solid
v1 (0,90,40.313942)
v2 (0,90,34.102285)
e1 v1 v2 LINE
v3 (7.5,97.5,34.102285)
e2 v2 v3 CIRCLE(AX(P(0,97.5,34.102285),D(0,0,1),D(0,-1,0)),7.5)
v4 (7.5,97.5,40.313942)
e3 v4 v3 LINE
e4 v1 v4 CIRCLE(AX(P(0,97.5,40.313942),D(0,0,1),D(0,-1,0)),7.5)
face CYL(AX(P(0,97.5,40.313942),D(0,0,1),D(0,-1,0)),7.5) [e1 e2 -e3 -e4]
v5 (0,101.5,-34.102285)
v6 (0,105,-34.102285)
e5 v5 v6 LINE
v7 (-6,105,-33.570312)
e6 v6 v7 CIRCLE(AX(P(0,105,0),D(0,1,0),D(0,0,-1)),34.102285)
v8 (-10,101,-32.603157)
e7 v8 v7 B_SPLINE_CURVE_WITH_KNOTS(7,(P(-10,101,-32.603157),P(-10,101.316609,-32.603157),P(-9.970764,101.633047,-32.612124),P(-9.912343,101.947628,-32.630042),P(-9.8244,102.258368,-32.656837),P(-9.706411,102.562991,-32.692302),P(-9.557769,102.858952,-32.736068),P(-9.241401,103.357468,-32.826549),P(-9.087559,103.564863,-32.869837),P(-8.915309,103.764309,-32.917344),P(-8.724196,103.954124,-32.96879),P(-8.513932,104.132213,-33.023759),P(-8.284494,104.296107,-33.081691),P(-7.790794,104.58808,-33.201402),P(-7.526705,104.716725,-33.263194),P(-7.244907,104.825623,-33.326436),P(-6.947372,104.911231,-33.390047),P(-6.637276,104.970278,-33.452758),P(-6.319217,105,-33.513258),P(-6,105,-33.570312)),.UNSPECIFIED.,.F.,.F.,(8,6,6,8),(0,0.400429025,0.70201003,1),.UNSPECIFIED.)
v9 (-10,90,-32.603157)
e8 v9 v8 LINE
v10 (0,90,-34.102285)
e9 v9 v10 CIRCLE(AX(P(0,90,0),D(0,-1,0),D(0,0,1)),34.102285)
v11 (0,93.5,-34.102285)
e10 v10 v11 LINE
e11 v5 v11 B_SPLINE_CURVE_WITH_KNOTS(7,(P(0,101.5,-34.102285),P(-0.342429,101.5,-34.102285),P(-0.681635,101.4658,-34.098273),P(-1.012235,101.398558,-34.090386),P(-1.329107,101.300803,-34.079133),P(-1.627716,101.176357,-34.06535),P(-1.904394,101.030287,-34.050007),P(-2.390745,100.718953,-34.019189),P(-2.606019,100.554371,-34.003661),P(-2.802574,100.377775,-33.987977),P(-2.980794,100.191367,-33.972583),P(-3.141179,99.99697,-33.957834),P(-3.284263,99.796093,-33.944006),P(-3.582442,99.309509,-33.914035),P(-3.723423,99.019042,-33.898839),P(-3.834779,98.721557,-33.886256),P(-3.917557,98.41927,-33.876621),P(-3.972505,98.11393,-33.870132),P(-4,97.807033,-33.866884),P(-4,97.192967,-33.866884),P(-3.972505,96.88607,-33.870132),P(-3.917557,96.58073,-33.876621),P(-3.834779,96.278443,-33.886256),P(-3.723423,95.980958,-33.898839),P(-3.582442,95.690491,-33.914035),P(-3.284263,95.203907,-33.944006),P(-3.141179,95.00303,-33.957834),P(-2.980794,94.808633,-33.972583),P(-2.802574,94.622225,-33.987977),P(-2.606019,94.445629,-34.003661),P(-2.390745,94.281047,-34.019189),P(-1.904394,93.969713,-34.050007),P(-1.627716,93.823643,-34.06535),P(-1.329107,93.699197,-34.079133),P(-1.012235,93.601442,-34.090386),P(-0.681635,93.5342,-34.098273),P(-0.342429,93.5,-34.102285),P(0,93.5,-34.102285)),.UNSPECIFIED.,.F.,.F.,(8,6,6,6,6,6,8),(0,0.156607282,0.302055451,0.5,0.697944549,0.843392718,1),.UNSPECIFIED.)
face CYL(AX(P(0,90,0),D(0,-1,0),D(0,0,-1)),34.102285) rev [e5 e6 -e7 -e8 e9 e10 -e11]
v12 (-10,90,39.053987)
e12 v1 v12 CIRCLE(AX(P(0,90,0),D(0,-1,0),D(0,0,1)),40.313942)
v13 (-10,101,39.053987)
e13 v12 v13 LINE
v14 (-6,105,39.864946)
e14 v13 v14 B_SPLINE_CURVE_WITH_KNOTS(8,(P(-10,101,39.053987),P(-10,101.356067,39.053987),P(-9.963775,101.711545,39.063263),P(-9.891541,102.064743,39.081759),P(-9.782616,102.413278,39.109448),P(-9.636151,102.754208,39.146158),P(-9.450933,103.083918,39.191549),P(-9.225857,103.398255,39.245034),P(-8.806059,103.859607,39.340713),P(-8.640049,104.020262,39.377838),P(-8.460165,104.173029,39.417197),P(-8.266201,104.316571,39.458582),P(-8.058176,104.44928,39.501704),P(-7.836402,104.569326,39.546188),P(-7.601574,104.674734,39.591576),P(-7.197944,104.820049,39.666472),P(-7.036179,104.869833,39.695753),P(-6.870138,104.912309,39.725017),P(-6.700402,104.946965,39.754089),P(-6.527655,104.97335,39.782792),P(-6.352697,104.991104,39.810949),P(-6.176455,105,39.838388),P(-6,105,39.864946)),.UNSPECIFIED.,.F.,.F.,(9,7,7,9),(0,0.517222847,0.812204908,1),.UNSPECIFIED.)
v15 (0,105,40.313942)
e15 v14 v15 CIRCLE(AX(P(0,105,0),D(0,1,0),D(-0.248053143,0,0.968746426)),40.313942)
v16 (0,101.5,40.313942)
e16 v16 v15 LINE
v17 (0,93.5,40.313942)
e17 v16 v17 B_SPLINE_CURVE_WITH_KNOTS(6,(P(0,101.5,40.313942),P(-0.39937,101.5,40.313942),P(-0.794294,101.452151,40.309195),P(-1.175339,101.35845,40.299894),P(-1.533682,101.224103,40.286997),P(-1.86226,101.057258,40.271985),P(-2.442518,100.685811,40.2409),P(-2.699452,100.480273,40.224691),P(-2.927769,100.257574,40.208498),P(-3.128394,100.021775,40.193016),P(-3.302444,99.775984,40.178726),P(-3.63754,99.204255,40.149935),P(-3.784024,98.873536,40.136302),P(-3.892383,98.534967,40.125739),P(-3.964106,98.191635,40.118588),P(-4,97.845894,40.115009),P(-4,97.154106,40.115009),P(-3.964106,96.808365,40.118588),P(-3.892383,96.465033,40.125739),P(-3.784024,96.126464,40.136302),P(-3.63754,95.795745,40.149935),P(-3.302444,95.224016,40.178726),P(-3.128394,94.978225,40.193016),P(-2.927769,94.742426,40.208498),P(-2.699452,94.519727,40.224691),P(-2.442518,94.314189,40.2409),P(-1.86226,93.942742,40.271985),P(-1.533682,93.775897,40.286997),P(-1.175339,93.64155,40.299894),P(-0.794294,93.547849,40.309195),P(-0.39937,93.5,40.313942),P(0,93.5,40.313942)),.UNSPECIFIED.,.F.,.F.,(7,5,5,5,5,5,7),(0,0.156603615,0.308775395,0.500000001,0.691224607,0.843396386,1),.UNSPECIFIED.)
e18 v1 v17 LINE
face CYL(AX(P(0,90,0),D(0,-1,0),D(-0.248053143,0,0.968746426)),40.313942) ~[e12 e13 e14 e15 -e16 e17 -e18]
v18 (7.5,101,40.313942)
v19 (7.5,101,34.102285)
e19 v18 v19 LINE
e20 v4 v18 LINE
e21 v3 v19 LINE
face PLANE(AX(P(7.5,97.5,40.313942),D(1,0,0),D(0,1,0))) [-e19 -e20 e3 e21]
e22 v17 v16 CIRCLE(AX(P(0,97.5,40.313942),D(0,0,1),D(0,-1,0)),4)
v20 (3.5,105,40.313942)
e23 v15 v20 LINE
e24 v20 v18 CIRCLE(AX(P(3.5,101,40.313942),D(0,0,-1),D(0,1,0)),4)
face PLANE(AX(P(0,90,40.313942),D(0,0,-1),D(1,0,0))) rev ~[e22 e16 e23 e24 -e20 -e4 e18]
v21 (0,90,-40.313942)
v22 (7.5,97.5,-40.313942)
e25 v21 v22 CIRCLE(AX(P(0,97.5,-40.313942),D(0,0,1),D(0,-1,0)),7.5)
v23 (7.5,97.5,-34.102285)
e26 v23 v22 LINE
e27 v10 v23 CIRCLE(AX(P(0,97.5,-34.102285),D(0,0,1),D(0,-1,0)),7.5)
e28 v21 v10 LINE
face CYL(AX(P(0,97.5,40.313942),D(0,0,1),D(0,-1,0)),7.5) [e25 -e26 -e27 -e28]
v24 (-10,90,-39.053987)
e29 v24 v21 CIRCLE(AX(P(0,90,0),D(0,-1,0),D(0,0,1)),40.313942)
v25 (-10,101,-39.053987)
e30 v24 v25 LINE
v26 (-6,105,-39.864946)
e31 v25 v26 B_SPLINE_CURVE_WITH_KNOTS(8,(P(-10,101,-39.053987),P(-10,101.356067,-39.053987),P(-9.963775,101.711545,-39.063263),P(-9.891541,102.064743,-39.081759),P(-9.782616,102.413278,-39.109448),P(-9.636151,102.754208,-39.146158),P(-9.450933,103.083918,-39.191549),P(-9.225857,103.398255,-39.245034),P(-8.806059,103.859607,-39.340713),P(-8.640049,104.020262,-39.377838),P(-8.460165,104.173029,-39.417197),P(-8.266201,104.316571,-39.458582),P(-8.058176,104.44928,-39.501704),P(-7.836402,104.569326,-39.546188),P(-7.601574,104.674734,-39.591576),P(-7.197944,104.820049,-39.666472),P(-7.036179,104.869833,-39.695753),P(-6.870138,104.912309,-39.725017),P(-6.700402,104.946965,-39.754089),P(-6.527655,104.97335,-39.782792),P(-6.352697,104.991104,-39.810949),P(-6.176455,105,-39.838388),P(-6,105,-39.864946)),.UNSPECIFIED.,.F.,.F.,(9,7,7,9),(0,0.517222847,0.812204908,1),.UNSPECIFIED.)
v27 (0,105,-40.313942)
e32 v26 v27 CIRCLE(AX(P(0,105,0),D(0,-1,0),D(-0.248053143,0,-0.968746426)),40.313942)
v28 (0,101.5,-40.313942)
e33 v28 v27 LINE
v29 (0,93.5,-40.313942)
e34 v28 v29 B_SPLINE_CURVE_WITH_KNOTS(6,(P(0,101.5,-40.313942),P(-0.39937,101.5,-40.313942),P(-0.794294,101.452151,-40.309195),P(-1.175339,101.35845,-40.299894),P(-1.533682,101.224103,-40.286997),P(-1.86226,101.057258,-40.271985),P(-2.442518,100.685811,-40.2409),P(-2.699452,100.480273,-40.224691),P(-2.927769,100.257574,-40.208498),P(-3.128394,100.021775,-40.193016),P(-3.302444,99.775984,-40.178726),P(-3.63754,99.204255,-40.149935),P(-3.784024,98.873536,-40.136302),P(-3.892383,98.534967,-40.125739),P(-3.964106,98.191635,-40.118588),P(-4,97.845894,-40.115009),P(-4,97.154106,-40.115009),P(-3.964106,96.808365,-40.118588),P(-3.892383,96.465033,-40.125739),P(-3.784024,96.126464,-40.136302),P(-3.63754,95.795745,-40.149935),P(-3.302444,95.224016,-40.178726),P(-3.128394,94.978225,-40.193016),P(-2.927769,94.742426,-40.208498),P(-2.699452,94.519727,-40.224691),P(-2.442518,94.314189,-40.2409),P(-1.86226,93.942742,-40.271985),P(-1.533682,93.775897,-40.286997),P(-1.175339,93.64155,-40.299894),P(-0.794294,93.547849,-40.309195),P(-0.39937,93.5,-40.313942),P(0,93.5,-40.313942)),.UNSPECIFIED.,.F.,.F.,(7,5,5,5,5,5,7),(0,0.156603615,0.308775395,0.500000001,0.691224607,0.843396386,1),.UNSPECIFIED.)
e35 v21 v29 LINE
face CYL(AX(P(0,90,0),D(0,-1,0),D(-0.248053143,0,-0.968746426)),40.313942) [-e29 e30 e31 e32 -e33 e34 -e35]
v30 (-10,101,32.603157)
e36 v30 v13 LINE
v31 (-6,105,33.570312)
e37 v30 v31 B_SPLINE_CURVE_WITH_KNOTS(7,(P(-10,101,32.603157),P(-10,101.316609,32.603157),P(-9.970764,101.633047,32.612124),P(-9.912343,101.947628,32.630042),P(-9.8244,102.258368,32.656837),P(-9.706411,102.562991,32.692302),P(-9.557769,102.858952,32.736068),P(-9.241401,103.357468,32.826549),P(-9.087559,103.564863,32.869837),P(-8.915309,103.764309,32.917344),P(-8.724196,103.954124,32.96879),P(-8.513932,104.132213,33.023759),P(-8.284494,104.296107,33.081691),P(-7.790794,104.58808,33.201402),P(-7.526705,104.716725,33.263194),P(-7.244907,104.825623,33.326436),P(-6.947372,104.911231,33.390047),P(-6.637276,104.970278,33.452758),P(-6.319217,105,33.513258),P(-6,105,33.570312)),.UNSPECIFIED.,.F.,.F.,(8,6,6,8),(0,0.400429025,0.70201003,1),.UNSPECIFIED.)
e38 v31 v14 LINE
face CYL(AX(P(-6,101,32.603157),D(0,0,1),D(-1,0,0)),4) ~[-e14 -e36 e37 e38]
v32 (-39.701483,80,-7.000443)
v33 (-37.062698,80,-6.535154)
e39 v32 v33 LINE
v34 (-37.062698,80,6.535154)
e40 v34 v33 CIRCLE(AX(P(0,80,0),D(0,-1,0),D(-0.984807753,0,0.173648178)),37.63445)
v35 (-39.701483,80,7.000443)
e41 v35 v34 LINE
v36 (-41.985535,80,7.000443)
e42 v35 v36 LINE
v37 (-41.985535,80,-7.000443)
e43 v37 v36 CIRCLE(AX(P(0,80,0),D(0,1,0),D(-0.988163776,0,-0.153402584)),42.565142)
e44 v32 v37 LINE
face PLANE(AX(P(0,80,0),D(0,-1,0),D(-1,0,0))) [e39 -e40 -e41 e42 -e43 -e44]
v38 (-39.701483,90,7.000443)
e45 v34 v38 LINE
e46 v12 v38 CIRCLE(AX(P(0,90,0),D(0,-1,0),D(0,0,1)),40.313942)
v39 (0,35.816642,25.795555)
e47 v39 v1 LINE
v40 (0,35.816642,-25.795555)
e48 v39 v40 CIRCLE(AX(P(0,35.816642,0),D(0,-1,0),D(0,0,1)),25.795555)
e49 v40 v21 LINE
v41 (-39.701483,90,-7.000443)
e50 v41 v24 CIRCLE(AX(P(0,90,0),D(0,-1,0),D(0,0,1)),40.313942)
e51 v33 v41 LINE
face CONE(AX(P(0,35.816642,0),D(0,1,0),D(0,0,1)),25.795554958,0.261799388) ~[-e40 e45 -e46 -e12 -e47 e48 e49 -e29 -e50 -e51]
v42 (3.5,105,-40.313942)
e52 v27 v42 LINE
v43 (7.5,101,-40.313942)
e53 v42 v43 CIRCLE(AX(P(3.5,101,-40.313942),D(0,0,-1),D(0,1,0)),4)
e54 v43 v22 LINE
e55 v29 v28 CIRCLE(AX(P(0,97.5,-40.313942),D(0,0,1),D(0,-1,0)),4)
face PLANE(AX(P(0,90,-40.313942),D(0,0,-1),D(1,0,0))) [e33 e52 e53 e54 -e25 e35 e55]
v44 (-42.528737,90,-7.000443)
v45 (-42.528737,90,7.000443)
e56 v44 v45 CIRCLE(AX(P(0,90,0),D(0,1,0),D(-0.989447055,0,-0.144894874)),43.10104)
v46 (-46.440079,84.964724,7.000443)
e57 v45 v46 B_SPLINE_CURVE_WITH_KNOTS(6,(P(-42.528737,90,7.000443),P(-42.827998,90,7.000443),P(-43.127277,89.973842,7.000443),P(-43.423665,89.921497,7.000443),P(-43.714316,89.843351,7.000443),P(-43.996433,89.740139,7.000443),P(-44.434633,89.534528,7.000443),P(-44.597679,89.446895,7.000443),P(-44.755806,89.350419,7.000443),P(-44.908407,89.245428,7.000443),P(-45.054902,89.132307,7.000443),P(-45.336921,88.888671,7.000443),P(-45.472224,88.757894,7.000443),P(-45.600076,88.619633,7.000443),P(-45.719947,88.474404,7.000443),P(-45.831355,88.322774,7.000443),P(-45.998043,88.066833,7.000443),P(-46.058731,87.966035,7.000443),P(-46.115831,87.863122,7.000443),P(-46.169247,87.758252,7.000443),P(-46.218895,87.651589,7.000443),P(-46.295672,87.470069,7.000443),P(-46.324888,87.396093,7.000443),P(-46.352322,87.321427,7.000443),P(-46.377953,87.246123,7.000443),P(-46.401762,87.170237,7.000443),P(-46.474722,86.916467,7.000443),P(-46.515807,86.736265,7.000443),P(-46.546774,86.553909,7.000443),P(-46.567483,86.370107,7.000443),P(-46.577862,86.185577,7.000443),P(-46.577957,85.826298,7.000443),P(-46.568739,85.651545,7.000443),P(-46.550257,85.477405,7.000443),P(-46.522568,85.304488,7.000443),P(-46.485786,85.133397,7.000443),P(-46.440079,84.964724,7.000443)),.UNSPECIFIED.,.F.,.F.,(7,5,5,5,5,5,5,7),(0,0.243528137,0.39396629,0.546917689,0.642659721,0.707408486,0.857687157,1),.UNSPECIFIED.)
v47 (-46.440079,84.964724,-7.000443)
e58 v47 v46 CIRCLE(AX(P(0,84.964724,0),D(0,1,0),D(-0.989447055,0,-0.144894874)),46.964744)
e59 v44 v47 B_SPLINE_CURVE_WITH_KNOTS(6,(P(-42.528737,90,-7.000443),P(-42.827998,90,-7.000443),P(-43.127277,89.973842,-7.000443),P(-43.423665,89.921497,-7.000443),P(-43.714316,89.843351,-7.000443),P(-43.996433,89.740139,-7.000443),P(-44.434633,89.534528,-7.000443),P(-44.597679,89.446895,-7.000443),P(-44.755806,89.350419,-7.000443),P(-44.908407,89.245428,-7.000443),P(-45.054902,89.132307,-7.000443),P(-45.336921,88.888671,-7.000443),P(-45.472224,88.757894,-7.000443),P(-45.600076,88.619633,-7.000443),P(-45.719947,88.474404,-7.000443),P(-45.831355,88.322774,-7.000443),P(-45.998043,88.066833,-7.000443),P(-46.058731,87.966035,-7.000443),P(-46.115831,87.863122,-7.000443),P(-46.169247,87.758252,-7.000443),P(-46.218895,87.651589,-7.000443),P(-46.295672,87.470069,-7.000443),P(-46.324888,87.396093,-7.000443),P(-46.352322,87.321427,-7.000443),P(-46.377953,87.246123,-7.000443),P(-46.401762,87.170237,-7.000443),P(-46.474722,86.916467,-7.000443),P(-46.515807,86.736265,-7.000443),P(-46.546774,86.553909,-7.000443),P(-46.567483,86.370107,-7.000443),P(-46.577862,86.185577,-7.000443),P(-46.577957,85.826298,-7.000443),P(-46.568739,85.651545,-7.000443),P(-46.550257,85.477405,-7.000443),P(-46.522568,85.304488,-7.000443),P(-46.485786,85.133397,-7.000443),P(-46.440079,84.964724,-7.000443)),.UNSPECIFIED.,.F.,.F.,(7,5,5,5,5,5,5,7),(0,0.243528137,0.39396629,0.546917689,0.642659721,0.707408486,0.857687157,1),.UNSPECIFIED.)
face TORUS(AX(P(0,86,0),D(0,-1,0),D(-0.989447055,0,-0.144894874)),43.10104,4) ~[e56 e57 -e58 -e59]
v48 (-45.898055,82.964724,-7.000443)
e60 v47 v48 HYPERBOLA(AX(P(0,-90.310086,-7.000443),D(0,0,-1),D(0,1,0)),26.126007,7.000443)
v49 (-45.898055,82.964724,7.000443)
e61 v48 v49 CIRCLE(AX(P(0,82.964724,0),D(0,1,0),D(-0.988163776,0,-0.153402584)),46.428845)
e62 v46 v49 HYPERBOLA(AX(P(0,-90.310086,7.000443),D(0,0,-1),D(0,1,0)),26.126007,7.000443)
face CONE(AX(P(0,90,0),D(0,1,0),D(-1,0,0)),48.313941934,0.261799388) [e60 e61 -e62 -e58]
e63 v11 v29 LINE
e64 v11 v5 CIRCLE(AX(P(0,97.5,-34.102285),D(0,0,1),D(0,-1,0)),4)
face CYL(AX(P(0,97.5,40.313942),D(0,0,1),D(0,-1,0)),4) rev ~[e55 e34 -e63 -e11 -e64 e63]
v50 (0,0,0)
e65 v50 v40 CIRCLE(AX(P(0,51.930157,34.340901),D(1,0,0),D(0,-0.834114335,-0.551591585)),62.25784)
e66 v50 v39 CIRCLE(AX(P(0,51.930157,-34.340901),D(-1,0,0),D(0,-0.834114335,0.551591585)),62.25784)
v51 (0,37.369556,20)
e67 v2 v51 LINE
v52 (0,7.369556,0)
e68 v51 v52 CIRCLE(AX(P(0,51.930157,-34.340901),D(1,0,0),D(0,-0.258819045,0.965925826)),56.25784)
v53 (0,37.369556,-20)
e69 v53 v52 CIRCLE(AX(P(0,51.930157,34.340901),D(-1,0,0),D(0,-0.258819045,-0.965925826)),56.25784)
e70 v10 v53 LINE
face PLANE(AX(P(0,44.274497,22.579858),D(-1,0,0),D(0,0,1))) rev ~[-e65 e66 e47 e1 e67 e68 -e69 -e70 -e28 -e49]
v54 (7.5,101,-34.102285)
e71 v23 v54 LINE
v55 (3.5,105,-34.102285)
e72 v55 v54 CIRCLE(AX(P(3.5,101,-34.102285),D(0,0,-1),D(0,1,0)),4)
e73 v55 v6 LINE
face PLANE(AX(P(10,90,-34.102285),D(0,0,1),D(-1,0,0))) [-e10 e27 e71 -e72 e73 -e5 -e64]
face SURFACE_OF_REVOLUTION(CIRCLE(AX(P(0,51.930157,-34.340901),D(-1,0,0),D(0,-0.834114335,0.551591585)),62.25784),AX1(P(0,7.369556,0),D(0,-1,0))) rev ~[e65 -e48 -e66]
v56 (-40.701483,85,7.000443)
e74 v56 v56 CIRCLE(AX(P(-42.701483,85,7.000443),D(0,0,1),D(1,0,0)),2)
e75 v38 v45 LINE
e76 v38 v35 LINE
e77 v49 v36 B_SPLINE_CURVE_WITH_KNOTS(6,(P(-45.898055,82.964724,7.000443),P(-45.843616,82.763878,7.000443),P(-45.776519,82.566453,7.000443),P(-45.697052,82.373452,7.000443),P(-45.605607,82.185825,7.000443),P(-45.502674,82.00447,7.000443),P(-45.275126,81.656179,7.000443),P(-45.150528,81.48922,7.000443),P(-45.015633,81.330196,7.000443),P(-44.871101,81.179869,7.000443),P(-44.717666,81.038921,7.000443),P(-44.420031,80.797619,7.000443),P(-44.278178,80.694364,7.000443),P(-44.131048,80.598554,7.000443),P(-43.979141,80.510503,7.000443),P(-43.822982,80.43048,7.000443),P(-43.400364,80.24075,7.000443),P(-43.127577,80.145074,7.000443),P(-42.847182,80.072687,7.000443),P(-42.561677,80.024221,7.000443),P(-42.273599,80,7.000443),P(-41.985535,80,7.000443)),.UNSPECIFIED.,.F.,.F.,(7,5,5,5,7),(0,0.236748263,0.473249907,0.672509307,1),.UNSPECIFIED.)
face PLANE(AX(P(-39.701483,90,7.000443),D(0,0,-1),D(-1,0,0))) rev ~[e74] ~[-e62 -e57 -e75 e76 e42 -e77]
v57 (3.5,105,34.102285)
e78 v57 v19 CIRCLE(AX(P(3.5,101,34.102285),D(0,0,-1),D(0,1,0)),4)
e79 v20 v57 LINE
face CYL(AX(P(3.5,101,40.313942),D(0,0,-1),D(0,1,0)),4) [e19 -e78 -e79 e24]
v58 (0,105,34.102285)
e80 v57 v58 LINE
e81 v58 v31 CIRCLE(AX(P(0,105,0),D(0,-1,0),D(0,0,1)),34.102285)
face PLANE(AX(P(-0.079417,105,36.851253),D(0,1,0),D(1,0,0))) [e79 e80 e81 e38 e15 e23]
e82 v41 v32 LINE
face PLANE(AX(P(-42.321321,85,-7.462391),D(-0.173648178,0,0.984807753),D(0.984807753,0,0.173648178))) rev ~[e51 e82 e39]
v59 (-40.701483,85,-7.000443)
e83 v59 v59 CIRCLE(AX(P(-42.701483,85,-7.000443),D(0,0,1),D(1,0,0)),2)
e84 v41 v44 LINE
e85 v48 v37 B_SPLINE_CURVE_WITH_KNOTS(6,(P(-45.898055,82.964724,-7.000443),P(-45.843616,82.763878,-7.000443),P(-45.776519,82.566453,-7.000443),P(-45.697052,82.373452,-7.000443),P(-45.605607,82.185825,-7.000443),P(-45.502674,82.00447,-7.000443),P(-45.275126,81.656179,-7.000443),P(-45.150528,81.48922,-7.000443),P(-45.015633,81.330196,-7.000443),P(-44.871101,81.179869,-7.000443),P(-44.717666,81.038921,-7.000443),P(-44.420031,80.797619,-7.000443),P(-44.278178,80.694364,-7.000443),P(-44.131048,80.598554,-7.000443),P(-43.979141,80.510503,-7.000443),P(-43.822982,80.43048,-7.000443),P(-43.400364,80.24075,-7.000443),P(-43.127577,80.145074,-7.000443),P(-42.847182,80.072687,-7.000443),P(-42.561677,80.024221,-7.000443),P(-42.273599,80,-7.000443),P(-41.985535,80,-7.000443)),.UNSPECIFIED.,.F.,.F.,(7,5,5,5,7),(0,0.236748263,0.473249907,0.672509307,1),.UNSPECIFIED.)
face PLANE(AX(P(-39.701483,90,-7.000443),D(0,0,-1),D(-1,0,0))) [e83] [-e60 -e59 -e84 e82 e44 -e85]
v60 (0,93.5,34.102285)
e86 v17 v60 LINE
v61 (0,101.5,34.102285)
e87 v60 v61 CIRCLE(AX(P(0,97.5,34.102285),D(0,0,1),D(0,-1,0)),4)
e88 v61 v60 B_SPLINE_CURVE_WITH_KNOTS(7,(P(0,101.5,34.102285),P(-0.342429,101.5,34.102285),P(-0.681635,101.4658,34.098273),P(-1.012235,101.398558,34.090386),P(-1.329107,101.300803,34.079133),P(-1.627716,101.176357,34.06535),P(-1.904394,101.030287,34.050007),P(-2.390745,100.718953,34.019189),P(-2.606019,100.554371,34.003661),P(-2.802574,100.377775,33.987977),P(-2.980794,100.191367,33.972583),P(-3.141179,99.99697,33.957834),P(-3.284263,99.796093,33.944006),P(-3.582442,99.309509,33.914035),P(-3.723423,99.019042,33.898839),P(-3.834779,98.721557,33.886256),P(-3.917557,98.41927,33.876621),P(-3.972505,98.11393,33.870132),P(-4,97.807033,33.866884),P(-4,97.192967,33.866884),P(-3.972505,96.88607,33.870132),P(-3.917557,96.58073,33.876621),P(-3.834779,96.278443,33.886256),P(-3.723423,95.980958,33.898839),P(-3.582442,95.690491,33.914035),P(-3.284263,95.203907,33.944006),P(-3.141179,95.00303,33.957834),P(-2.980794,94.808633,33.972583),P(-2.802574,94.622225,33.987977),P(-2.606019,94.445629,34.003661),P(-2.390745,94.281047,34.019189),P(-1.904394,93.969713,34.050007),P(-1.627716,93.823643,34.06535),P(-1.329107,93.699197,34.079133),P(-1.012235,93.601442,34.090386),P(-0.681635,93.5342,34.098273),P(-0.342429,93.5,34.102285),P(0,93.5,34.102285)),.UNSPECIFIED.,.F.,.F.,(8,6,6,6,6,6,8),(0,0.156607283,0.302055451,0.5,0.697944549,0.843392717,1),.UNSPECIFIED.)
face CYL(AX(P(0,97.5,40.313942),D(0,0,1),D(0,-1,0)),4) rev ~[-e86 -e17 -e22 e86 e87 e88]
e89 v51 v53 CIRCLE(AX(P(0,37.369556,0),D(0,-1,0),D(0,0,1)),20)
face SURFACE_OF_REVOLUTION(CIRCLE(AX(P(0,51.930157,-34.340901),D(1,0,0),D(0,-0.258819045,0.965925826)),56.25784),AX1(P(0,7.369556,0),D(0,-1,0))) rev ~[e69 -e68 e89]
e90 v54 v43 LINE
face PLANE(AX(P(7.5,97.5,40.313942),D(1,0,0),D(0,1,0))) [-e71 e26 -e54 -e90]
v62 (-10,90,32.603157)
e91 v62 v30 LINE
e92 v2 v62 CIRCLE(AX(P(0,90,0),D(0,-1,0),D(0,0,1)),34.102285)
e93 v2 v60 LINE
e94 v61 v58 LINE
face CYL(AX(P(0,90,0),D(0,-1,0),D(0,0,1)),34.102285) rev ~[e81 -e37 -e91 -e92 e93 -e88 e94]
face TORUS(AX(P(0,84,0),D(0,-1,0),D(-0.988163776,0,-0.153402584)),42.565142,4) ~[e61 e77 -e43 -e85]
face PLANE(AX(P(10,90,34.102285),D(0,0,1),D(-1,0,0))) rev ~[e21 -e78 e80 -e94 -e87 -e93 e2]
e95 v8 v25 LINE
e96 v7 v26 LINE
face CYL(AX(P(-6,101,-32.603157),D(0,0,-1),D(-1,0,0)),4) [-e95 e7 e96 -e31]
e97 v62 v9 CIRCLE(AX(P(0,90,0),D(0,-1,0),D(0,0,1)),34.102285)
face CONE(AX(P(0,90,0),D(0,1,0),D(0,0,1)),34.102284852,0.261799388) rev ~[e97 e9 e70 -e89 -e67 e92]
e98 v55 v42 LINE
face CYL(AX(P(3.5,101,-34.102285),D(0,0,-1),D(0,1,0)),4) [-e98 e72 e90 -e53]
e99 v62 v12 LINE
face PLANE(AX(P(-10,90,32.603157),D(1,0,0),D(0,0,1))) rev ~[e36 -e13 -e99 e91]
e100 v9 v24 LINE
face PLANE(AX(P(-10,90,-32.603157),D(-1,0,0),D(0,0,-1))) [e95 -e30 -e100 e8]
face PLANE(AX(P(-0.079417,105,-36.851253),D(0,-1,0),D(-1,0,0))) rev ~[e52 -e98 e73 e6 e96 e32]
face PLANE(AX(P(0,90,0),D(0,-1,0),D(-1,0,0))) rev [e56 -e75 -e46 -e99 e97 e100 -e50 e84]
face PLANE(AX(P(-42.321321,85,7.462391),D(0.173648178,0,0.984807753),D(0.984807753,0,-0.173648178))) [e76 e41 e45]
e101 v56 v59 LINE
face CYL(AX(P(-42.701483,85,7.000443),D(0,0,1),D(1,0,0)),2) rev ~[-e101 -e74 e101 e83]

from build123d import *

# Parameters (mm, degrees)
REVOLUCI_N1_ANGLE           = 180
SALIENTE_EXTRUIR1_DEPTH     = 15
CROQUIS4_R                  = 4
CORTAR_EXTRUIR1_DEPTH       = 139.387389496
REVOLUCI_N2_ANGLE           = 10
REVOLUCI_N2_OTHER_WAY_ANGLE = 10
CORTAR_EXTRUIR2_DEPTH       = 10
CROQUIS7_R                  = 2
CORTAR_EXTRUIR3_DEPTH       = 125.891504895
CORTAR_EXTRUIR4_DEPTH       = 141.925841064
REDONDEO1_R                 = 4


with BuildPart() as part:
    # Croquis1 → Revolución1 (revolve)
    with BuildSketch(Plane(origin=(0, 0, 0), x_dir=(0, 0, -1), z_dir=(1, 0, 0))):
        with BuildLine():
            Line((-25.795554958, 35.816642159), (-40.313941934, 90))
            Line((-40.313941934, 90), (-34.102284852, 90))
            Line((-34.102284852, 90), (-20, 37.36955643))
            ThreePointArc((-20, 37.36955643), (-12.468451731, 20.723921943), (0, 7.36955643))
            Line((0, 7.36955643), (0, 0))
            ThreePointArc((0, 0), (-16.178409273, 15.545572574), (-25.795554958, 35.816642159))
        make_face()
    revolve(axis=Axis((0, 7.36955643, 0), (0, -1, 0)), revolution_arc=REVOLUCI_N1_ANGLE)

    # Croquis3 → Saliente-Extruir1 (add)
    with BuildSketch(Plane(origin=(0, 90, 0), x_dir=(1, 0, 0), z_dir=(0, 1, 0))):
        with BuildLine():
            Line((-10, -32.603156782), (-10, -39.053987175))
            ThreePointArc((-10, -39.053987175), (-5.039530881, -39.997712969), (0, -40.313941934))
            Line((0, -40.313941934), (10, -40.313941934))
            Line((10, -40.313941934), (10, -34.102284852))
            Line((10, -34.102284852), (0, -34.102284852))
            ThreePointArc((0, -34.102284852), (-5.055872451, -33.72542047), (-10, -32.603156782))
        make_face()
        with BuildLine():
            Line((-10, 32.603156782), (-10, 39.053987175))
            ThreePointArc((-10, 39.053987175), (-5.039530881, 39.997712969), (0, 40.313941934))
            Line((0, 40.313941934), (10, 40.313941934))
            Line((10, 40.313941934), (10, 34.102284852))
            Line((10, 34.102284852), (0, 34.102284852))
            ThreePointArc((0, 34.102284852), (-5.055872451, 33.72542047), (-10, 32.603156782))
        make_face()
    extrude(amount=SALIENTE_EXTRUIR1_DEPTH)

    # Croquis4 → Cortar-Extruir1 (cut, through all)
    with BuildSketch(Plane.XY.offset(40.313941934)):
        with Locations(Location((0, 97.5, 0), (0, 0, 270))):
            Circle(CROQUIS4_R)
    extrude(amount=-CORTAR_EXTRUIR1_DEPTH, mode=Mode.SUBTRACT)

    # Croquis5 → Revolución2 (revolve)
    with BuildSketch(Plane.XY):
        Polygon((-40.313941934, 90), (-48.313941934, 90), (-45.63445001, 80), (-37.63445001, 80), align=None)
    revolve(axis=Axis((0, 0, 0), (0, 1, 0)), revolution_arc=REVOLUCI_N2_ANGLE)

    # Croquis5 → Revolución2 other way (revolve)
    with BuildSketch(Plane.XY):
        Polygon((-40.313941934, 90), (-48.313941934, 90), (-45.63445001, 80), (-37.63445001, 80), align=None)
    revolve(axis=Axis((0, 0, 0), (0, -1, 0)), revolution_arc=REVOLUCI_N2_OTHER_WAY_ANGLE)

    # Croquis6 → Cortar-Extruir2 (cut)
    with BuildSketch(Plane(origin=(0, 90, 0), x_dir=(1, 0, 0), z_dir=(0, 1, 0))):
        Polygon((-39.701482571, 7.000442551), (-47.80408758, 7.000442551), (-47.579944596, 8.389627973), align=None)
        Polygon((-39.701482571, -7.000442551), (-47.80408758, -7.000442551), (-47.579944596, -8.389627973), align=None)
    extrude(amount=-CORTAR_EXTRUIR2_DEPTH, mode=Mode.SUBTRACT)


with BuildPart() as cortar_extruir2_kept_piece:
    # of the separate pieces the step leaves, the one the design keeps (cortar_extruir2_pieces_kept)
    add(part.part.solids().sort_by_distance((0, 0, 0))[0])

    # Croquis7 → Cortar-Extruir3 (cut, through all)
    with BuildSketch(Plane.XY.offset(7.000442551)):
        with Locations((-42.701482571, 85)):
            Circle(CROQUIS7_R)
    extrude(amount=-CORTAR_EXTRUIR3_DEPTH, mode=Mode.SUBTRACT)

    # Croquis8 → Cortar-Extruir4 (cut, through all)
    with BuildSketch(Plane.XY.offset(40.313941934)):
        with BuildLine():
            Line((7.5, 97.5), (7.5, 105))
            Line((7.5, 105), (10, 105))
            Line((10, 105), (10, 90))
            Line((10, 90), (0, 90))
            ThreePointArc((0, 90), (5.303300859, 92.196699141), (7.5, 97.5))
        make_face()
    extrude(amount=-CORTAR_EXTRUIR4_DEPTH, mode=Mode.SUBTRACT)

    # Redondeo1
    redondeo1_edges = [cortar_extruir2_kept_piece.edges().sort_by_distance(p)[0] for p in [
        (7.5, 105, -37.208113393),
        (7.5, 105, 37.208113393),
        (-10, 105, -35.828571978),
        (-10, 105, 35.828571978),
        (-45.63445001, 80, 0),
        (-48.313941934, 90, 0),
    ]]
    fillet(redondeo1_edges, radius=REDONDEO1_R)


solid = cortar_extruir2_kept_piece.part
